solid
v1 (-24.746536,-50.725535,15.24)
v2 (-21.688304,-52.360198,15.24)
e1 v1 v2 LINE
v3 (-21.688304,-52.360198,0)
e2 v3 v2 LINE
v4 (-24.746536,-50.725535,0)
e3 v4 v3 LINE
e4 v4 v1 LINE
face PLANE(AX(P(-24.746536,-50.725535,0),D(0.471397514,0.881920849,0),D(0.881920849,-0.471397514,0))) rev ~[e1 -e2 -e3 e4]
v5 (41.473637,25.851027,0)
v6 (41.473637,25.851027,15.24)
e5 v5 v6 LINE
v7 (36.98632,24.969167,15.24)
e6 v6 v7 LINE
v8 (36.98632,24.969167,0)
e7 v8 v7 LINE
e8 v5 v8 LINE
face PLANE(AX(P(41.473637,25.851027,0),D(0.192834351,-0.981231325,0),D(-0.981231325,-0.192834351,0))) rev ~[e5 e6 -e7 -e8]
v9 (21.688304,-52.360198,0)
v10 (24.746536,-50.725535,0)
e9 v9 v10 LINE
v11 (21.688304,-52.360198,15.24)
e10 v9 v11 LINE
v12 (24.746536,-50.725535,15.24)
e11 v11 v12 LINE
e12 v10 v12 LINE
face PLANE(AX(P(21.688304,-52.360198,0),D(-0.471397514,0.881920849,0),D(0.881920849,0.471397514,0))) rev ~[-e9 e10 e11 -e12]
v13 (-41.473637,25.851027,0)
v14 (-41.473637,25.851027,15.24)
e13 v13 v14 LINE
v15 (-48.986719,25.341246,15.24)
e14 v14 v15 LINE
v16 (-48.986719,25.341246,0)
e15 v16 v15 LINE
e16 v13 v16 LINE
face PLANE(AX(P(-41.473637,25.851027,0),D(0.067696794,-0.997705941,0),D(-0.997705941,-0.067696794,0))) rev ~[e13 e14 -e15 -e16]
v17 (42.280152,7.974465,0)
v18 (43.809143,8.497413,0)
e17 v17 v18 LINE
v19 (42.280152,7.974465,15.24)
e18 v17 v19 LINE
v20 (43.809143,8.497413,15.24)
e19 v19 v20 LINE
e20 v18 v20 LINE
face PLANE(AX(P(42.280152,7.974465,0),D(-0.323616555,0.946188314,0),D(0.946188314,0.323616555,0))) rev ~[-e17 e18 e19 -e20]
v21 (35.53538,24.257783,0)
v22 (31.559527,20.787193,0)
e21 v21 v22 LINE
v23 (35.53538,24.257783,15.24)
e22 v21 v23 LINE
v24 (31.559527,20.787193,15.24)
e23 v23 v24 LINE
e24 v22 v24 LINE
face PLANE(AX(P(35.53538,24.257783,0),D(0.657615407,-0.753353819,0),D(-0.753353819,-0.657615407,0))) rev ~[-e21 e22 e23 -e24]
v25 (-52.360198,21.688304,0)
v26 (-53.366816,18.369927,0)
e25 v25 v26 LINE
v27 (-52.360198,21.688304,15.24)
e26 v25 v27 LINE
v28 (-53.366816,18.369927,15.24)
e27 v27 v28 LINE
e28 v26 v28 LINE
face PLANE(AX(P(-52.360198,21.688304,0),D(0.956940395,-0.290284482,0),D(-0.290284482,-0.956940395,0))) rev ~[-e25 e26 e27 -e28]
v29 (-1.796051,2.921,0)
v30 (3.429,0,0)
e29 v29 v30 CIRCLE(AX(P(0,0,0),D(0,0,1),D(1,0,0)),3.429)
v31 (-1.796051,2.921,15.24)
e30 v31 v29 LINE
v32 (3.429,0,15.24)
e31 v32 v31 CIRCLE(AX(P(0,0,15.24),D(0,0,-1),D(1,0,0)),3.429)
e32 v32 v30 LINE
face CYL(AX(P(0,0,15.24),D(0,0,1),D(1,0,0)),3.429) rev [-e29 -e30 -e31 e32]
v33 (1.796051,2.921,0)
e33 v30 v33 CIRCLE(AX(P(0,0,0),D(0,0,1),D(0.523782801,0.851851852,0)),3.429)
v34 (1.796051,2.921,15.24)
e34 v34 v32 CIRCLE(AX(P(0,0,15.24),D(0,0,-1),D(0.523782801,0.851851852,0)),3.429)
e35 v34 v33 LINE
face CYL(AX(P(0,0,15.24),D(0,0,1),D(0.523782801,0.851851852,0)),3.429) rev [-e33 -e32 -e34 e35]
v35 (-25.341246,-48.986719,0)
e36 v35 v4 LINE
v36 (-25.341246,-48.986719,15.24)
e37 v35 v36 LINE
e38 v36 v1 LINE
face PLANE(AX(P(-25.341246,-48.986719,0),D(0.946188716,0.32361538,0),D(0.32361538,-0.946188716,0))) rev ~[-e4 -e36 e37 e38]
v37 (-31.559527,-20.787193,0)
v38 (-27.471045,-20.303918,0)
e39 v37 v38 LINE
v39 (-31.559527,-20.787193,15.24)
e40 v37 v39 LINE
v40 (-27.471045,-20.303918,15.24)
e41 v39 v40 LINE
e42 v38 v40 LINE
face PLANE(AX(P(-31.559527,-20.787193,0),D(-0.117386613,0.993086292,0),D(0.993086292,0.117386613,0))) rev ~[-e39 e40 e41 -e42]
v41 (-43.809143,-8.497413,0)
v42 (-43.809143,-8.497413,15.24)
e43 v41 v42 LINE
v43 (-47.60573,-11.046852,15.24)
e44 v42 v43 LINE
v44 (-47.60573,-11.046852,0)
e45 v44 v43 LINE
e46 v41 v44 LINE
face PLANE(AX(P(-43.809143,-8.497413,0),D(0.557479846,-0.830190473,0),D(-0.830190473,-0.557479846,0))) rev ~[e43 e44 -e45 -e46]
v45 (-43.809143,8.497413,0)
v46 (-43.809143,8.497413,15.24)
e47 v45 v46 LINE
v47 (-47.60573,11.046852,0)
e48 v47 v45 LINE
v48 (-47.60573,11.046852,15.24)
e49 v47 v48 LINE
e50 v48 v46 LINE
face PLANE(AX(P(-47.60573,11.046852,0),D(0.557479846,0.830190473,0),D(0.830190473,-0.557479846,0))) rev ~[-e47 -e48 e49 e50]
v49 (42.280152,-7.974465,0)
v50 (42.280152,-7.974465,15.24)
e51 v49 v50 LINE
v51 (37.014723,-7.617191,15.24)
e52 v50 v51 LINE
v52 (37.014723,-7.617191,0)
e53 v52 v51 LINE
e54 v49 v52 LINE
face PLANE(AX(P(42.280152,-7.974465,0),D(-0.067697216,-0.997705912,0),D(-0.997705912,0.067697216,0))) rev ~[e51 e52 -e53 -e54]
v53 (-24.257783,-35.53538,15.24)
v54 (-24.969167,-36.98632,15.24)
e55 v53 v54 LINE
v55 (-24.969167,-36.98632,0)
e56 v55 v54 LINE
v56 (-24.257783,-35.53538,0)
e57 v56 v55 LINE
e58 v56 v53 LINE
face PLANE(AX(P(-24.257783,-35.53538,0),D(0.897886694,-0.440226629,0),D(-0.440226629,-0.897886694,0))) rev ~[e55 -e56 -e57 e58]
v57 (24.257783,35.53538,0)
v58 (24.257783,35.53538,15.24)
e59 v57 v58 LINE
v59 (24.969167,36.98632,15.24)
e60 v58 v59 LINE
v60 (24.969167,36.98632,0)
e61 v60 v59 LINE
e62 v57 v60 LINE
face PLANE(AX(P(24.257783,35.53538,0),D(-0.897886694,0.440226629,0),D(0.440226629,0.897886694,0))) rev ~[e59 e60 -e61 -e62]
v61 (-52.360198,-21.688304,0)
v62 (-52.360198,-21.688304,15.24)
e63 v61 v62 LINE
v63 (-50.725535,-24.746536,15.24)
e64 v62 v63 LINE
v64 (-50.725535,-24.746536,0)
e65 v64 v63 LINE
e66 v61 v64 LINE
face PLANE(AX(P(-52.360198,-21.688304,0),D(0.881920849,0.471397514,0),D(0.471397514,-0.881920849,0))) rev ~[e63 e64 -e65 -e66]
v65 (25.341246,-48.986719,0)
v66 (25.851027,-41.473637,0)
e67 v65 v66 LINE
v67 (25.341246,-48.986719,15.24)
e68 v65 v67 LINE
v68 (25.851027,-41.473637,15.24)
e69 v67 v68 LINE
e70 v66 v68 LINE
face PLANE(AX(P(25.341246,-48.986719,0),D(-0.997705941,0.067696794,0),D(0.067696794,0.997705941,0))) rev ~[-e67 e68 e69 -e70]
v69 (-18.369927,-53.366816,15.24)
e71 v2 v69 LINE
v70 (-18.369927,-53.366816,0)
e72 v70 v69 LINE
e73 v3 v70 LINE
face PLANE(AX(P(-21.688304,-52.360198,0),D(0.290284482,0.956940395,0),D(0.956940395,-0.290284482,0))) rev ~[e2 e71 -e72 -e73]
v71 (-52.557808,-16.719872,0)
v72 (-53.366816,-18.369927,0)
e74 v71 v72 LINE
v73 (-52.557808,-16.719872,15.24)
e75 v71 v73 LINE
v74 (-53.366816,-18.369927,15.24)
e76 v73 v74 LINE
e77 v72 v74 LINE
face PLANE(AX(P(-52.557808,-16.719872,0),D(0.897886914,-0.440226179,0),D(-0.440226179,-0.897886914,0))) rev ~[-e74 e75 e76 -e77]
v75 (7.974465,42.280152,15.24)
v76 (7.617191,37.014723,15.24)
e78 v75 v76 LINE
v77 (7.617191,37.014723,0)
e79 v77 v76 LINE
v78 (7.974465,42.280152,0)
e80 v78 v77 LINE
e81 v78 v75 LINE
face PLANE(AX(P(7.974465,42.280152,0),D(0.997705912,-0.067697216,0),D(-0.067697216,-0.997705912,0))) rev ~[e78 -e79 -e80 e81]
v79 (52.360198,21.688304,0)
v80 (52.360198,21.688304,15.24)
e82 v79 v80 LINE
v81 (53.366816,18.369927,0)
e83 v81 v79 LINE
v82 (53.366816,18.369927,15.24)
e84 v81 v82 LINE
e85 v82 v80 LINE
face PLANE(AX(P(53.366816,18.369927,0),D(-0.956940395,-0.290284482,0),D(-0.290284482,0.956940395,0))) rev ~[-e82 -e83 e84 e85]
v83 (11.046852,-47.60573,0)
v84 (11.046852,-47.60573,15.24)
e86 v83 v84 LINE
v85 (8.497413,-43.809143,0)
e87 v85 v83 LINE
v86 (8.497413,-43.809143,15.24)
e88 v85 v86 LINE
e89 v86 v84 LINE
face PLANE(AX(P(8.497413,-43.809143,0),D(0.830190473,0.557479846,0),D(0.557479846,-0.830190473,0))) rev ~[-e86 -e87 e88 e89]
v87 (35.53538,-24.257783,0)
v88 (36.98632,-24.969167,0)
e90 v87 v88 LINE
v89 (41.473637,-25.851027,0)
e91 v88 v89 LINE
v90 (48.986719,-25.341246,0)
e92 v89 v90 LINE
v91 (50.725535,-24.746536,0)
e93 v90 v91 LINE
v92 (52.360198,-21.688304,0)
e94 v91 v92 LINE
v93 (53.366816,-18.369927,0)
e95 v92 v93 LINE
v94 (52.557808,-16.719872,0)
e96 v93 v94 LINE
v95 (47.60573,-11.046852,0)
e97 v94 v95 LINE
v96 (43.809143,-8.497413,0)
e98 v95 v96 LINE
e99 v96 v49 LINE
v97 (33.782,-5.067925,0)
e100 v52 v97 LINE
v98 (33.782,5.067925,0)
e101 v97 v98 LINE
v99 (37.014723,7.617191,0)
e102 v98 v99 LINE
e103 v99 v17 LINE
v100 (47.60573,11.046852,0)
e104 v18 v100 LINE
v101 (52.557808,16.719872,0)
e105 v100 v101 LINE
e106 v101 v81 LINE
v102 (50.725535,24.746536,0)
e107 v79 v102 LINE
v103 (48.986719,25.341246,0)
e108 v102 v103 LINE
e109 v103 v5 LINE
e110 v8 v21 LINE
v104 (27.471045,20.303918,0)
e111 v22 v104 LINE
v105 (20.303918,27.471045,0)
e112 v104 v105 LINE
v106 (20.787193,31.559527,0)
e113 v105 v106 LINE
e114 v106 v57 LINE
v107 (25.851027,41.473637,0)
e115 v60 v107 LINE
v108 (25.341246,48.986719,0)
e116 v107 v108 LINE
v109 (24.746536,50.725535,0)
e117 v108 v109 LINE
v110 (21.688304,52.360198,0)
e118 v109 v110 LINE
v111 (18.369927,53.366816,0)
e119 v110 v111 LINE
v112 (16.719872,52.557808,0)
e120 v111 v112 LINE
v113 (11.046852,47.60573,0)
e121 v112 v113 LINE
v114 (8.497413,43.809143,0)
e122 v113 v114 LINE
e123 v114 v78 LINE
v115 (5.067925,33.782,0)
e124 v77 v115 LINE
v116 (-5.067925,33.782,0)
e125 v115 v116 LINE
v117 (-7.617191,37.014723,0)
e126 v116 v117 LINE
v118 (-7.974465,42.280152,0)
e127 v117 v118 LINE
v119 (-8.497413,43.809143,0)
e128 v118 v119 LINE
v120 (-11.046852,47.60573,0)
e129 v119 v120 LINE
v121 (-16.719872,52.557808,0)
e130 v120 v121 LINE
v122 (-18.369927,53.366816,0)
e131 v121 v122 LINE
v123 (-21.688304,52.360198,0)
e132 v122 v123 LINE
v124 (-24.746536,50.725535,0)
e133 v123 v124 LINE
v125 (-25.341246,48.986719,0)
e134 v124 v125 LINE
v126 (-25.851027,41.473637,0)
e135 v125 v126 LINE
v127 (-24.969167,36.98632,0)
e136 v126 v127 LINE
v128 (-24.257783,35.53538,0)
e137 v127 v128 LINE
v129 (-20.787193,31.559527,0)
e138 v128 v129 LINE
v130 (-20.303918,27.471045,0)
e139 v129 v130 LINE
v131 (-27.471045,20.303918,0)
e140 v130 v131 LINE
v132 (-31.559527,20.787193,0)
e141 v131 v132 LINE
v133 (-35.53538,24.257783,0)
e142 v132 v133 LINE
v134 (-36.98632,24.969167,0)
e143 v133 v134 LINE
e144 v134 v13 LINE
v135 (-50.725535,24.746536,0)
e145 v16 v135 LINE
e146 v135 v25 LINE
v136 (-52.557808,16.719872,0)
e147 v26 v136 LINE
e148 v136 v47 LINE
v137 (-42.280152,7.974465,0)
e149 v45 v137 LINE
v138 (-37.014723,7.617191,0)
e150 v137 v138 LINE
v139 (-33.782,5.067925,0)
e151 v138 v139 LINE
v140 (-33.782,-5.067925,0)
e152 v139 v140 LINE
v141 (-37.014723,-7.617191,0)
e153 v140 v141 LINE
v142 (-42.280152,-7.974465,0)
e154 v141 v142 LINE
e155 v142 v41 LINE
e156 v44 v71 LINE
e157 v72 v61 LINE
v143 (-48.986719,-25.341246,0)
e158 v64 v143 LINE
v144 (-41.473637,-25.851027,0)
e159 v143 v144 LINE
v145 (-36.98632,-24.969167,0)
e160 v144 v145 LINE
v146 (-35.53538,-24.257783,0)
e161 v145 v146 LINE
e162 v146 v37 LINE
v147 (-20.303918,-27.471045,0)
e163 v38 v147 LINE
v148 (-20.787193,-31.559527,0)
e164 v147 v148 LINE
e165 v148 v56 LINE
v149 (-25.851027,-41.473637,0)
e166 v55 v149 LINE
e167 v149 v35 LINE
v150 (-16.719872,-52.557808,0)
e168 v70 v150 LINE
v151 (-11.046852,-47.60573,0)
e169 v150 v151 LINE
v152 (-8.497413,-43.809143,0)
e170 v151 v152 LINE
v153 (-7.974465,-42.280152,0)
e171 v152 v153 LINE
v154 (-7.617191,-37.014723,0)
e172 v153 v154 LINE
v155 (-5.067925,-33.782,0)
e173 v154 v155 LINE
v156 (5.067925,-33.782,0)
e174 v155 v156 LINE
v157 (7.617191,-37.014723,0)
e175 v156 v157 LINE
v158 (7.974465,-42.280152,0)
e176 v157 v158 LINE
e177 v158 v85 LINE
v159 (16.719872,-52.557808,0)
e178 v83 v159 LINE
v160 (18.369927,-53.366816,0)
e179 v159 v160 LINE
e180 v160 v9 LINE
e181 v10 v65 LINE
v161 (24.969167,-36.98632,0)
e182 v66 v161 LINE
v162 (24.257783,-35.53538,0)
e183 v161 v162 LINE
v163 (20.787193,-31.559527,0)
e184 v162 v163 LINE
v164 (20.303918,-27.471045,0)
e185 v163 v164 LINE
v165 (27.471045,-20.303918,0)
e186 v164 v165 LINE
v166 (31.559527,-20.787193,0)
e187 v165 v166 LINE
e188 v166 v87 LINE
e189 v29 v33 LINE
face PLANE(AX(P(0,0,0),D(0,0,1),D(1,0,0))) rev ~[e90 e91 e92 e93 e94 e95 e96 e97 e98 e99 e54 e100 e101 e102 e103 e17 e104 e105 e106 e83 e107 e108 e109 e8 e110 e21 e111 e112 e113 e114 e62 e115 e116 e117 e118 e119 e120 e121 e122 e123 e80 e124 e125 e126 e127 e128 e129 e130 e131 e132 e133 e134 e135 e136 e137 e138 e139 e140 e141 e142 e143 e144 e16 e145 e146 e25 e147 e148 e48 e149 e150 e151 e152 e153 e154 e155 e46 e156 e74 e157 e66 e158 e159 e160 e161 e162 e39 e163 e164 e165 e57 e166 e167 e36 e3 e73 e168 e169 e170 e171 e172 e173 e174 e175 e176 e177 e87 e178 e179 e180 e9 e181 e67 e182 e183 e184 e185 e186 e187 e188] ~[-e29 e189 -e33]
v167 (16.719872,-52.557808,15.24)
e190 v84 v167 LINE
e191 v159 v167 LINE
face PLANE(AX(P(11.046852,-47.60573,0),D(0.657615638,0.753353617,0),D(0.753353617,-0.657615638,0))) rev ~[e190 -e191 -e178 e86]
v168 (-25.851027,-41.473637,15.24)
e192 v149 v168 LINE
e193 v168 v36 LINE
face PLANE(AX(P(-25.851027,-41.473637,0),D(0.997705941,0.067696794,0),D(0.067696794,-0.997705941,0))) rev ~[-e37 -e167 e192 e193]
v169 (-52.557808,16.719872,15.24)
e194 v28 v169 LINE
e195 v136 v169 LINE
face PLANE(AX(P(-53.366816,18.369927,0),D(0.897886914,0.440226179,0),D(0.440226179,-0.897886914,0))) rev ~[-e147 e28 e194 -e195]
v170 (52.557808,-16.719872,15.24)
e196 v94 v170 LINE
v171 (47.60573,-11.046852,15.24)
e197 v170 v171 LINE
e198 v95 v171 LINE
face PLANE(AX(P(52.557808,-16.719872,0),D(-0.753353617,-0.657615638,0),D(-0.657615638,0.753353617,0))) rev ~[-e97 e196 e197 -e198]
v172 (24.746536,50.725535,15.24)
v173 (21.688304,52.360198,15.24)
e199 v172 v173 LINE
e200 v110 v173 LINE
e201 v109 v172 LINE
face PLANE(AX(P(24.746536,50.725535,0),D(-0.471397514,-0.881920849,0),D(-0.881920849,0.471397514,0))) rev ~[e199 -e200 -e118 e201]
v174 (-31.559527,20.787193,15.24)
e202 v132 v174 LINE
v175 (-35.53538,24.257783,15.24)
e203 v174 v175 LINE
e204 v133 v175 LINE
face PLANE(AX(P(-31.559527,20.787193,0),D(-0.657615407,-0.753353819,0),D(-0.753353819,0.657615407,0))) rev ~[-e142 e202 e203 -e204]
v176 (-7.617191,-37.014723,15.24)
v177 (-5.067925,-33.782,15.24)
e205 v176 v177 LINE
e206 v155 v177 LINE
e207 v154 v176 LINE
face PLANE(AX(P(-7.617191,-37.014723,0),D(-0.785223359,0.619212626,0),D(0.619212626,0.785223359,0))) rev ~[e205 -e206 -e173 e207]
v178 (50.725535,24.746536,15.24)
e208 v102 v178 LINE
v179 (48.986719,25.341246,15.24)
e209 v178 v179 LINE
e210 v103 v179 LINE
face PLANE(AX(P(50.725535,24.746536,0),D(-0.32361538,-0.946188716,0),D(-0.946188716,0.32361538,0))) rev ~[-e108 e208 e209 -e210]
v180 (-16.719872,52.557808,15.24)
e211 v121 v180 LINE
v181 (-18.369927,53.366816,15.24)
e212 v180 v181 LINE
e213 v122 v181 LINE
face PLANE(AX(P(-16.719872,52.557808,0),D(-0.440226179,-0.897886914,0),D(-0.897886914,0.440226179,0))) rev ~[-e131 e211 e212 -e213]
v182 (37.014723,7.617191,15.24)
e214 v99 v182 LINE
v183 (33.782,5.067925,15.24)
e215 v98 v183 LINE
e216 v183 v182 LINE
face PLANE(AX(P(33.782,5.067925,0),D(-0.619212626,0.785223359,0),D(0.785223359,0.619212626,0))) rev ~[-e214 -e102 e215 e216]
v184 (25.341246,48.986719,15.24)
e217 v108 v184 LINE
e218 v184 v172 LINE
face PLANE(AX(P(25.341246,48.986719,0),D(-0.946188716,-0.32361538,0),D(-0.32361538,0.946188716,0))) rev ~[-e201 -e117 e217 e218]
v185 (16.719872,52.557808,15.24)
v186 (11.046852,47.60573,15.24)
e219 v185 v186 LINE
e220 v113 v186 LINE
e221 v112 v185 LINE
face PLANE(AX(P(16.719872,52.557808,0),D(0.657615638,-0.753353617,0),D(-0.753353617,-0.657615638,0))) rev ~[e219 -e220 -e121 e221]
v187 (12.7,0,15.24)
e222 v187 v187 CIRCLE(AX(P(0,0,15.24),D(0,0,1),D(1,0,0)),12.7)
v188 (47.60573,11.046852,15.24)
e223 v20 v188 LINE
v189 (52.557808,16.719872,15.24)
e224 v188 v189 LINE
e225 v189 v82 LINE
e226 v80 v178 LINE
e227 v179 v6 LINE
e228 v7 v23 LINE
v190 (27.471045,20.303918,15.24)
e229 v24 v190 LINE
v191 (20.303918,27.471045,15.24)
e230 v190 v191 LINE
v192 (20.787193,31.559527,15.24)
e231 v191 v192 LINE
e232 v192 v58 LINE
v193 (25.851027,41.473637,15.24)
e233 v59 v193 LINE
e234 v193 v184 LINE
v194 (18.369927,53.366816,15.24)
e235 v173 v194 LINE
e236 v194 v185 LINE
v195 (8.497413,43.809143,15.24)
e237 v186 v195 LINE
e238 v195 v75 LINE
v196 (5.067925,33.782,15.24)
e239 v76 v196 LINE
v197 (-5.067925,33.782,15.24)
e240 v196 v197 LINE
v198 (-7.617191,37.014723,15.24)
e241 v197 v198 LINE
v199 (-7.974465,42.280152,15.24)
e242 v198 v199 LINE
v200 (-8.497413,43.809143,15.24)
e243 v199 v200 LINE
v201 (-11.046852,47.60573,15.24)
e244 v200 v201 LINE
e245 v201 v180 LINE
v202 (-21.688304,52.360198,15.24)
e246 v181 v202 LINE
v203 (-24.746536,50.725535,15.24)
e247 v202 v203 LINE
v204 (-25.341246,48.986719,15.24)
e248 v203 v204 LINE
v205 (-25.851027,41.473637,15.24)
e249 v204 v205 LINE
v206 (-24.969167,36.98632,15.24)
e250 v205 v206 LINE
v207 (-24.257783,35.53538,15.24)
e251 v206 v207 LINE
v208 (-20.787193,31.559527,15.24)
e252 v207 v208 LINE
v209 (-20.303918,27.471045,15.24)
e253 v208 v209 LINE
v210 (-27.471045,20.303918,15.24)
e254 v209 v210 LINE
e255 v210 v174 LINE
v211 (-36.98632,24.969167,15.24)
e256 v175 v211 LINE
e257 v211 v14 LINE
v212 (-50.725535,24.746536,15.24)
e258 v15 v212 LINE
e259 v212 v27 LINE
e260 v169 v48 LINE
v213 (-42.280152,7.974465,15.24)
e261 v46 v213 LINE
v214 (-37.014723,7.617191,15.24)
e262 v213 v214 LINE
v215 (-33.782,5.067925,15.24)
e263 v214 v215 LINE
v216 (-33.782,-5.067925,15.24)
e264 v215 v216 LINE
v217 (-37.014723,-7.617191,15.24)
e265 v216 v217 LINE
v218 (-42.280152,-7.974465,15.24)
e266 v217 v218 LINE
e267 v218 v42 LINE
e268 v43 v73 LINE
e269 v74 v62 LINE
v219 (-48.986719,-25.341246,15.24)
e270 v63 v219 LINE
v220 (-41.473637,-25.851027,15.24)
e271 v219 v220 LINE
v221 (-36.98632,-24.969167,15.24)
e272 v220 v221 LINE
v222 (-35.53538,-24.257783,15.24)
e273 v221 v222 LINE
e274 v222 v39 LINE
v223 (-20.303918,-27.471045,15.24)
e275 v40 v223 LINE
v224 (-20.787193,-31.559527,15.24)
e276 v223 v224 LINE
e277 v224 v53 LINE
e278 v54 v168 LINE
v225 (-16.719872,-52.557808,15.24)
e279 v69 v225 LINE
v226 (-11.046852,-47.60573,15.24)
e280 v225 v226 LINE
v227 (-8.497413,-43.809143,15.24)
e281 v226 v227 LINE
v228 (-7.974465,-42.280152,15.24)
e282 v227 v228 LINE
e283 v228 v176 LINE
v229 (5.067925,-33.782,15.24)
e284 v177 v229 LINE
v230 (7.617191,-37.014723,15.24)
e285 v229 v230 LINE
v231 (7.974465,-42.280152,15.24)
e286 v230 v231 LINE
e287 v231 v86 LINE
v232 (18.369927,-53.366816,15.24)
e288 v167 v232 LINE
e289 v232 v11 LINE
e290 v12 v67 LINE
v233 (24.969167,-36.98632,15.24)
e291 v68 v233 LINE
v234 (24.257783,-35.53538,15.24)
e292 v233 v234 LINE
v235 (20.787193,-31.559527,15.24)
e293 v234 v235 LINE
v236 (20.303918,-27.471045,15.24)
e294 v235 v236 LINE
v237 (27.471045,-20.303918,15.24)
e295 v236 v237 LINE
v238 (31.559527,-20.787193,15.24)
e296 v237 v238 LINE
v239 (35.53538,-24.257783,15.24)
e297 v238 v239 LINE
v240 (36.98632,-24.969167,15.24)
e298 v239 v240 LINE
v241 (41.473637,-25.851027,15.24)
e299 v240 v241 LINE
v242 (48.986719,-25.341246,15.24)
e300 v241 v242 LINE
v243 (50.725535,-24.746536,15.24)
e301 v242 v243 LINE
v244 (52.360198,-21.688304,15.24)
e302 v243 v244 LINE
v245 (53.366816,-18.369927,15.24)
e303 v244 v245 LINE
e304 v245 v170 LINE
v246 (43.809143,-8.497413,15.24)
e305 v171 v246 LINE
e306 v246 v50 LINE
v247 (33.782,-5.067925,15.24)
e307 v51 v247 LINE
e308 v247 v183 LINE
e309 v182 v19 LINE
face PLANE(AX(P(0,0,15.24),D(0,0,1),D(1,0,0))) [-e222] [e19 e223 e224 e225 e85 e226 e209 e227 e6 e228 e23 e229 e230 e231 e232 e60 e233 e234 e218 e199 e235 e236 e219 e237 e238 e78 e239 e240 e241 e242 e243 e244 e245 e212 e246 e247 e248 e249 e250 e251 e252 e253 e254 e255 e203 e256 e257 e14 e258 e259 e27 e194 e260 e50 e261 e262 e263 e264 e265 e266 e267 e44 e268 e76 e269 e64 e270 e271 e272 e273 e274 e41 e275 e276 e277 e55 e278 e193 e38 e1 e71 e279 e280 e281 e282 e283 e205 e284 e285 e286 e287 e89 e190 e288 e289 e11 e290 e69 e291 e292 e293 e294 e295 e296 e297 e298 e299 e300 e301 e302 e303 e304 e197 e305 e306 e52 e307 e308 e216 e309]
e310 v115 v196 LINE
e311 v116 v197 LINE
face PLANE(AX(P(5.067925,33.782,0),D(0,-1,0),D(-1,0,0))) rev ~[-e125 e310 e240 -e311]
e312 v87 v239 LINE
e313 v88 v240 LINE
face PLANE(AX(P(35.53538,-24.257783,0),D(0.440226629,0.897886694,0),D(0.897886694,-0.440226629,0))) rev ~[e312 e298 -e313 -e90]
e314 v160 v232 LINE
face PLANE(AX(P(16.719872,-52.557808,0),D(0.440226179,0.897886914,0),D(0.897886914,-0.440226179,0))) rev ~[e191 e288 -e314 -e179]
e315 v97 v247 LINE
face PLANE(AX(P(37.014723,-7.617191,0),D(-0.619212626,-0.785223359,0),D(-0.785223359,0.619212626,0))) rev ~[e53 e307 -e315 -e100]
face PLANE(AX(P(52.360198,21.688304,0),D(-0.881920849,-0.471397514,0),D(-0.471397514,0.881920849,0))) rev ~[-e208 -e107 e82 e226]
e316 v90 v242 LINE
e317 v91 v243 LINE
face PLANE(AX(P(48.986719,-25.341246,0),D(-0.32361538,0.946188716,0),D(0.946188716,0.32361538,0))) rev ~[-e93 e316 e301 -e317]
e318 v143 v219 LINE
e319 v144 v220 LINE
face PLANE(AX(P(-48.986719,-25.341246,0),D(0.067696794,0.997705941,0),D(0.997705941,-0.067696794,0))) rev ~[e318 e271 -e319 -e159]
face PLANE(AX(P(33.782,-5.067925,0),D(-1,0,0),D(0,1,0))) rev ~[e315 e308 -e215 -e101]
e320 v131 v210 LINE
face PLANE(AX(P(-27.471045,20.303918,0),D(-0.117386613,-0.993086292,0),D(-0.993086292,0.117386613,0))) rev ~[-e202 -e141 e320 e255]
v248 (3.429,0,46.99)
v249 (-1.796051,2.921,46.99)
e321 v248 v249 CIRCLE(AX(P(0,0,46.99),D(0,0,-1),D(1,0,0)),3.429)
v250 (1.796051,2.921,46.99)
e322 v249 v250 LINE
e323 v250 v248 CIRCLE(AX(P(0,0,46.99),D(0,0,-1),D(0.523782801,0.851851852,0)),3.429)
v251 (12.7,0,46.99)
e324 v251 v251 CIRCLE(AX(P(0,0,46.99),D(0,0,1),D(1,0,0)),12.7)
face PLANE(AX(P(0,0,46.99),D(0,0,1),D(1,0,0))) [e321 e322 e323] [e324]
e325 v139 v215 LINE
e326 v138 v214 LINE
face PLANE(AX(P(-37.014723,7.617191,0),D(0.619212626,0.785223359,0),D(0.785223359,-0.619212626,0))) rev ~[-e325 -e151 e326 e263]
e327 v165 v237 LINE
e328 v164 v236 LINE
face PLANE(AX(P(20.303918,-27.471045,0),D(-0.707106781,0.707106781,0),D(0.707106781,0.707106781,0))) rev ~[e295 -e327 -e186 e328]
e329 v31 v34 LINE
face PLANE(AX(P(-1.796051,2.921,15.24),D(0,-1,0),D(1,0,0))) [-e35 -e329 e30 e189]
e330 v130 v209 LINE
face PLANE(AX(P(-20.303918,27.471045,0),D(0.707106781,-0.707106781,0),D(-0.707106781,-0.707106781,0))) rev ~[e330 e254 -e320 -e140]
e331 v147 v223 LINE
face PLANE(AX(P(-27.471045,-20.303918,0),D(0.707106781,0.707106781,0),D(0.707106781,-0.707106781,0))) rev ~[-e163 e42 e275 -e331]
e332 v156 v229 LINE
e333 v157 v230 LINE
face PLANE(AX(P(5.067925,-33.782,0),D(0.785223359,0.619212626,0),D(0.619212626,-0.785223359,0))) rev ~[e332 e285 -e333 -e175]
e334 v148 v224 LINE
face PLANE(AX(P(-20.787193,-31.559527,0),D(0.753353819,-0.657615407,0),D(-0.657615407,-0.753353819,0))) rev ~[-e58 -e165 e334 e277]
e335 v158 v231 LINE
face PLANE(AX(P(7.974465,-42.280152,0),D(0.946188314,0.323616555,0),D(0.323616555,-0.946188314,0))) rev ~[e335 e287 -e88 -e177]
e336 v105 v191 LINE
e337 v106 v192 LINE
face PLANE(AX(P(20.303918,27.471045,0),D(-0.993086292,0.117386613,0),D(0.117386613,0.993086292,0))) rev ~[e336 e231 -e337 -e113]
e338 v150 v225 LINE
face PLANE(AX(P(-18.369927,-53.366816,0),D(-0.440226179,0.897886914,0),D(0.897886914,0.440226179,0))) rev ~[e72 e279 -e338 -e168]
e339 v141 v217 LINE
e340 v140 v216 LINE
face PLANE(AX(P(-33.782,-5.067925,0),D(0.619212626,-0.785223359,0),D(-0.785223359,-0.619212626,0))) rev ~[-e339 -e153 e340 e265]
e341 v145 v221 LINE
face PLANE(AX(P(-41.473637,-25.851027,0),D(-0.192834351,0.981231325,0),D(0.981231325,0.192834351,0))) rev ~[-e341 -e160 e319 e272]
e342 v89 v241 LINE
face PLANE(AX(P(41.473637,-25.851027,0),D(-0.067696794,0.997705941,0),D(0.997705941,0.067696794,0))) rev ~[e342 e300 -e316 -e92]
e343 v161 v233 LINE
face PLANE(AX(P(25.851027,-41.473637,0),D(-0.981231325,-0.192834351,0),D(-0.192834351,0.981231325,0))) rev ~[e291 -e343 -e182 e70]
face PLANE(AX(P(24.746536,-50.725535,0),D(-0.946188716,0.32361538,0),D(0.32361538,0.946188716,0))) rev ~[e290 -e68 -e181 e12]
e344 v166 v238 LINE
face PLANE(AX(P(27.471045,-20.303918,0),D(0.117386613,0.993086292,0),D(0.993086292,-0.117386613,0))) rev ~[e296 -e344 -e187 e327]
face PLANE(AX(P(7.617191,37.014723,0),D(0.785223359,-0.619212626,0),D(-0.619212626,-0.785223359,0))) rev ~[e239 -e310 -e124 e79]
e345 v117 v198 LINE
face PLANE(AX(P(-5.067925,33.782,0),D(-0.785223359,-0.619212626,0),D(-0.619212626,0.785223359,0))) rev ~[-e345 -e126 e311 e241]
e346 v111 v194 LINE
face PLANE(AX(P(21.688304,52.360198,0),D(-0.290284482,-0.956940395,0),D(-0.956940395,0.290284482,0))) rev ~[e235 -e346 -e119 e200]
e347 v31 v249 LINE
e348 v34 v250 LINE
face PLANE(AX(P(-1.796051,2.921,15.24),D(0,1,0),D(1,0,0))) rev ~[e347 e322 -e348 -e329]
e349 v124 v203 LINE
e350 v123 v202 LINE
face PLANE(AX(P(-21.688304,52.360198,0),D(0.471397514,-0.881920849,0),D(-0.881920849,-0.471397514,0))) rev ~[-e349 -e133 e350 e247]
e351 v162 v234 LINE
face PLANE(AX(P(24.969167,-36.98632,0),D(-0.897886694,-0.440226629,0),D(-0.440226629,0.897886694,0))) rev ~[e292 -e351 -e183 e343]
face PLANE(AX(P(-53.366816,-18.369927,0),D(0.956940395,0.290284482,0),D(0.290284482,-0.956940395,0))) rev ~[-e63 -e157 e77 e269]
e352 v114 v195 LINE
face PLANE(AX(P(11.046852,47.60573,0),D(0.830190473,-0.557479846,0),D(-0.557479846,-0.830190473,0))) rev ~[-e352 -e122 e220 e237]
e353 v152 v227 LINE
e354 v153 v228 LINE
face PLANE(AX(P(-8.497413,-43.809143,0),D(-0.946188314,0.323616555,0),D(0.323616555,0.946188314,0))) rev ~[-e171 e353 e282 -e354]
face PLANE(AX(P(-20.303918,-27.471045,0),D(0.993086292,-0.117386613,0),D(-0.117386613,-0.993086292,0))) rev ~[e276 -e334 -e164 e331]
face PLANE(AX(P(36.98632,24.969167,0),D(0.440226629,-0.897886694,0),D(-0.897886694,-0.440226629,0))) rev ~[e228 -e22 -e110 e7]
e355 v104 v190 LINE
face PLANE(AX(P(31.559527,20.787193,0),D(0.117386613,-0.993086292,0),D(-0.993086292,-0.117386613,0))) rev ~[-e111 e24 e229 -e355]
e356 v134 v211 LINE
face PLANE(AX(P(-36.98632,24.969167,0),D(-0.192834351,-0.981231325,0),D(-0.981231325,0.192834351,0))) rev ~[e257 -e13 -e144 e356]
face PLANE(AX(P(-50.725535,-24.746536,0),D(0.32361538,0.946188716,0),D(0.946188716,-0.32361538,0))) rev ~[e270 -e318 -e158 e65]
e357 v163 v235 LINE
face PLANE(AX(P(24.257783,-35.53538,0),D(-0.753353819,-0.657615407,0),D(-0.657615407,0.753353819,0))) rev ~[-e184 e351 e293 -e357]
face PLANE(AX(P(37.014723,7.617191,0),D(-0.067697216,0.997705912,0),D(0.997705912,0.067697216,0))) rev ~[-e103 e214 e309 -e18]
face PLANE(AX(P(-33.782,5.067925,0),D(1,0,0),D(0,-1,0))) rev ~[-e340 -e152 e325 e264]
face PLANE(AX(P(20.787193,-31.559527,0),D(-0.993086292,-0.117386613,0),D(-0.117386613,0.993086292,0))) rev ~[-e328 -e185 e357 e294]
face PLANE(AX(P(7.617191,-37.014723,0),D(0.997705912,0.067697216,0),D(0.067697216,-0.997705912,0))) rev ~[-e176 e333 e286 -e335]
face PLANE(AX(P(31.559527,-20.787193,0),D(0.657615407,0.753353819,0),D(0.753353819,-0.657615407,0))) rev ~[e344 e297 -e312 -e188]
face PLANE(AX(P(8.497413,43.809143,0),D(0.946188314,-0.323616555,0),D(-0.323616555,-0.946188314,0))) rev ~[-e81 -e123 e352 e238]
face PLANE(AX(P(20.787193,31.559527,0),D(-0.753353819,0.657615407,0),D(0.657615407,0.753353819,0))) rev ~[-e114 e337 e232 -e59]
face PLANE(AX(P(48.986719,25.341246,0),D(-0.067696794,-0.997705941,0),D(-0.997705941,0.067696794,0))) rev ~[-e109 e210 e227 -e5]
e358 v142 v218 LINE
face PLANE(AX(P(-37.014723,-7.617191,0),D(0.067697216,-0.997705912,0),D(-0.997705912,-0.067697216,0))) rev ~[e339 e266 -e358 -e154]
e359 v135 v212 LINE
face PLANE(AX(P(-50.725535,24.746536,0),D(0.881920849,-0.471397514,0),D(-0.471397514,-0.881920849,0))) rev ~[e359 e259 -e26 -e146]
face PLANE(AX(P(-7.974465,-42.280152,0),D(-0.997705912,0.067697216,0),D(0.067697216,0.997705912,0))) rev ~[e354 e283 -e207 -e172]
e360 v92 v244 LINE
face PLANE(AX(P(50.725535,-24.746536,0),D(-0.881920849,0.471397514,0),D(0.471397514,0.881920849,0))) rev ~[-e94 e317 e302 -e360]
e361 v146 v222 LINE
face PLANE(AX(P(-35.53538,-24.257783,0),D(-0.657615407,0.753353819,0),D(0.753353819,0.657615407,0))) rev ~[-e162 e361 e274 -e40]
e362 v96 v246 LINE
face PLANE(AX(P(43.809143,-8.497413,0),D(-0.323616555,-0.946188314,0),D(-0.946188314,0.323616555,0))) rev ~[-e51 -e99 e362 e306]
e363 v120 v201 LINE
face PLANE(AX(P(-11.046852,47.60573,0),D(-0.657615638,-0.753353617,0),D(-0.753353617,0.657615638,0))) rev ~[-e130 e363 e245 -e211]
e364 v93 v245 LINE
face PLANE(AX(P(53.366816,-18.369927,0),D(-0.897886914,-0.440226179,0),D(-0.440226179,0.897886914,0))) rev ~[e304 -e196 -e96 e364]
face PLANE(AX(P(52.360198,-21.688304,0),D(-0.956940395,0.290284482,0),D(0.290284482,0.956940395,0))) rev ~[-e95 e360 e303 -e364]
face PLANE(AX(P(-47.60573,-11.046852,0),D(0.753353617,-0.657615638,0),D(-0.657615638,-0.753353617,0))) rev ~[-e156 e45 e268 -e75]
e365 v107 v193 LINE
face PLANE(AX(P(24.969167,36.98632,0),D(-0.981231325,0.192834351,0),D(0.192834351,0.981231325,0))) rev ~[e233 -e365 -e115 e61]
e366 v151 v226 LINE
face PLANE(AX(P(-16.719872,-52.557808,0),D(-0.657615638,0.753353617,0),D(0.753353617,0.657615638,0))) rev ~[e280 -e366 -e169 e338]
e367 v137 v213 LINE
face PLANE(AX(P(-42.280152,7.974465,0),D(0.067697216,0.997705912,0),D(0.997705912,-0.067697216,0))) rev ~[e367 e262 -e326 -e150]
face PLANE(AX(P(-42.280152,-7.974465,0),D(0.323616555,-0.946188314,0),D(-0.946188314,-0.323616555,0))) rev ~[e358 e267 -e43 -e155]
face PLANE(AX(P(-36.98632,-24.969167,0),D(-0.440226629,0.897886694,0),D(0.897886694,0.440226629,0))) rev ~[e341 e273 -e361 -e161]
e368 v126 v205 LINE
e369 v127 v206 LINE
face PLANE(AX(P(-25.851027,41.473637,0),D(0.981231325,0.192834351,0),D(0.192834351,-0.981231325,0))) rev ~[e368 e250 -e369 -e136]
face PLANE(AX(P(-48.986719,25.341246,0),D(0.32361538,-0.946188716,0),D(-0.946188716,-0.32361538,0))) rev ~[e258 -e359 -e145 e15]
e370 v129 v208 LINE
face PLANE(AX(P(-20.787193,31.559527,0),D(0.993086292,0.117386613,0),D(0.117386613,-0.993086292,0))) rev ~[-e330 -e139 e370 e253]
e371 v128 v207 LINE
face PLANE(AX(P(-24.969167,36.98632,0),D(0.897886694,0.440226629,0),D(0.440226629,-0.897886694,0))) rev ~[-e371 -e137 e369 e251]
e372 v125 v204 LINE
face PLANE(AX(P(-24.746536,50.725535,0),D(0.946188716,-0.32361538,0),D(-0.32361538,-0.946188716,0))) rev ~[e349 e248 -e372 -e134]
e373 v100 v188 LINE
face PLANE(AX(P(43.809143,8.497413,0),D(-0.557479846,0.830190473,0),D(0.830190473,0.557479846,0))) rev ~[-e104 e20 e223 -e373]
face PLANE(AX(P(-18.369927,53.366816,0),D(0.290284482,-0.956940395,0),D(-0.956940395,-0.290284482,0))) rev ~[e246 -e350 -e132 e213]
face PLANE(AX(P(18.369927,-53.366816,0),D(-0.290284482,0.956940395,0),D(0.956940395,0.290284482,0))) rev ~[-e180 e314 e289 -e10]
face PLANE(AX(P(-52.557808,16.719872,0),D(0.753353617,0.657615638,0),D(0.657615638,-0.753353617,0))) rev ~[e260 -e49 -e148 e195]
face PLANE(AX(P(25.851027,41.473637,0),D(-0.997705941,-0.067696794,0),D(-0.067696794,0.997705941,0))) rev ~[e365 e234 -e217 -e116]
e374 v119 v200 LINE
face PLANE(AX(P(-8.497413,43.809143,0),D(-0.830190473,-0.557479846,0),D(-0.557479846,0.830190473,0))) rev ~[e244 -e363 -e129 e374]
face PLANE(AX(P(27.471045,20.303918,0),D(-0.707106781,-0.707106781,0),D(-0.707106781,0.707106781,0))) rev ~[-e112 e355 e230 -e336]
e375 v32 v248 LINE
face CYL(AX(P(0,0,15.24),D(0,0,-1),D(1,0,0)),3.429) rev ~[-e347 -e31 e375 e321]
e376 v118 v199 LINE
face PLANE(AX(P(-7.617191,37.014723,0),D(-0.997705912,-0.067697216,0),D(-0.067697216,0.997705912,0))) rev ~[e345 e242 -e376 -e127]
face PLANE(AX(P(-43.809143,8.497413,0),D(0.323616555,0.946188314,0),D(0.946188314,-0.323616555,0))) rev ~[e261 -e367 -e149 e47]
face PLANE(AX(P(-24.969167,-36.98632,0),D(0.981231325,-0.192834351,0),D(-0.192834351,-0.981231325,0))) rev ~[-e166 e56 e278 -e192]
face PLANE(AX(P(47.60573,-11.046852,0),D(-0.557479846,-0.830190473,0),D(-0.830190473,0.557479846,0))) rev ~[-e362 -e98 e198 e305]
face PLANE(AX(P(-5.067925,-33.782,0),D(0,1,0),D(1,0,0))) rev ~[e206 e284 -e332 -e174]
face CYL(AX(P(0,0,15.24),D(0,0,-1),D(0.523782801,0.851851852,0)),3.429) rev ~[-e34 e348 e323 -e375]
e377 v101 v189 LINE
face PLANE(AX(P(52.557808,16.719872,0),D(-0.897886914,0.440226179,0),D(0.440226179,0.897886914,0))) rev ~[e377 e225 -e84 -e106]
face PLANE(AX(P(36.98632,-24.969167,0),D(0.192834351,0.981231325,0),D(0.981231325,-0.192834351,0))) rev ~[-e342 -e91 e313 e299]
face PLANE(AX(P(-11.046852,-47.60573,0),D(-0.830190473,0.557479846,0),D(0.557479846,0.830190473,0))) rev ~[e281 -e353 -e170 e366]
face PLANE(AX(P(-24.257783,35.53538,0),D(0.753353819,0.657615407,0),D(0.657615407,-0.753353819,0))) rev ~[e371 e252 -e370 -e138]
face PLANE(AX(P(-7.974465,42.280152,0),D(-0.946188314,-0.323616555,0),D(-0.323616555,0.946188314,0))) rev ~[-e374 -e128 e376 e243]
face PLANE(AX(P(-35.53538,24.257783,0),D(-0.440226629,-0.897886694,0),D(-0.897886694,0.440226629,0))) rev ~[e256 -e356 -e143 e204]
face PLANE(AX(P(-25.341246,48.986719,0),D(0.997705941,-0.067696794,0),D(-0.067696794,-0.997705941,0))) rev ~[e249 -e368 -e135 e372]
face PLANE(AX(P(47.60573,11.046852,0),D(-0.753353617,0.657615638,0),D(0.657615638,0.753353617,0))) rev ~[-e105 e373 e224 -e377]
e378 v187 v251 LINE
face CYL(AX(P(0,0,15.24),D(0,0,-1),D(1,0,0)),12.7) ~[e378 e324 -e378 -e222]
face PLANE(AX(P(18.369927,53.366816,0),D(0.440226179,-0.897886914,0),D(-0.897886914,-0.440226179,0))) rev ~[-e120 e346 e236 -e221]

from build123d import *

# Parameters (mm, degrees)
F1_DEPTH = 15.24
F2_R     = 12.7
F3_DEPTH = 31.75
F4_DEPTH = 25.4


with BuildPart() as f1:
    # F0 (on Top) → F1 (new body)
    with BuildSketch(Plane.XY):
        Polygon((-48.986719159, 25.3412460777), (-50.7255351294, 24.7465363945), (-52.3601977854, 21.688304154), (-53.366815822, 18.3699267661), (-52.5578082129, 16.719871907), (-47.6057296253, 11.0468524364), (-43.80914346, 8.4974130761), (-42.2801519731, 7.9744654227), (-37.0147232049, 7.6171909331), (-33.782, 5.0679251692), (-33.782, -5.0679251692), (-37.0147232049, -7.6171909331), (-42.2801519731, -7.9744654227), (-43.80914346, -8.4974130761), (-47.6057296253, -11.0468524364), (-52.5578082129, -16.719871907), (-53.366815822, -18.3699267661), (-52.3601977854, -21.688304154), (-50.7255351294, -24.7465363945), (-48.986719159, -25.3412460777), (-41.4736370284, -25.8510271212), (-36.9863201834, -24.9691669416), (-35.5353802528, -24.2577827562), (-31.559527, -20.7871925925), (-27.4710453735, -20.303918365), (-20.303918365, -27.4710453735), (-20.7871925925, -31.559527), (-24.2577827562, -35.5353802528), (-24.9691669416, -36.9863201834), (-25.8510271212, -41.4736370284), (-25.3412460777, -48.986719159), (-24.7465363945, -50.7255351294), (-21.688304154, -52.3601977854), (-18.3699267661, -53.366815822), (-16.719871907, -52.5578082129), (-11.0468524364, -47.6057296253), (-8.4974130761, -43.80914346), (-7.9744654227, -42.2801519731), (-7.6171909331, -37.0147232049), (-5.0679251692, -33.782), (5.0679251692, -33.782), (7.6171909331, -37.0147232049), (7.9744654227, -42.2801519731), (8.4974130761, -43.80914346), (11.0468524364, -47.6057296253), (16.719871907, -52.5578082129), (18.3699267661, -53.366815822), (21.688304154, -52.3601977854), (24.7465363945, -50.7255351294), (25.3412460777, -48.986719159), (25.8510271212, -41.4736370284), (24.9691669416, -36.9863201834), (24.2577827562, -35.5353802528), (20.7871925925, -31.559527), (20.303918365, -27.4710453735), (27.4710453735, -20.303918365), (31.559527, -20.7871925925), (35.5353802528, -24.2577827562), (36.9863201834, -24.9691669416), (41.4736370284, -25.8510271212), (48.986719159, -25.3412460777), (50.7255351294, -24.7465363945), (52.3601977854, -21.688304154), (53.366815822, -18.3699267661), (52.5578082129, -16.719871907), (47.6057296253, -11.0468524364), (43.80914346, -8.4974130761), (42.2801519731, -7.9744654227), (37.0147232049, -7.6171909331), (33.782, -5.0679251692), (33.782, 5.0679251692), (37.0147232049, 7.6171909331), (42.2801519731, 7.9744654227), (43.80914346, 8.4974130761), (47.6057296253, 11.0468524364), (52.5578082129, 16.719871907), (53.366815822, 18.3699267661), (52.3601977854, 21.688304154), (50.7255351294, 24.7465363945), (48.986719159, 25.3412460777), (41.4736370284, 25.8510271212), (36.9863201834, 24.9691669416), (35.5353802528, 24.2577827562), (31.559527, 20.7871925925), (27.4710453735, 20.303918365), (20.303918365, 27.4710453735), (20.7871925925, 31.559527), (24.2577827562, 35.5353802528), (24.9691669416, 36.9863201834), (25.8510271212, 41.4736370284), (25.3412460777, 48.986719159), (24.7465363945, 50.7255351294), (21.688304154, 52.3601977854), (18.3699267661, 53.366815822), (16.719871907, 52.5578082129), (11.0468524364, 47.6057296253), (8.4974130761, 43.80914346), (7.9744654227, 42.2801519731), (7.6171909331, 37.0147232049), (5.0679251692, 33.782), (-5.0679251692, 33.782), (-7.6171909331, 37.0147232049), (-7.9744654227, 42.2801519731), (-8.4974130761, 43.80914346), (-11.0468524364, 47.6057296253), (-16.719871907, 52.5578082129), (-18.3699267661, 53.366815822), (-21.688304154, 52.3601977854), (-24.7465363945, 50.7255351294), (-25.3412460777, 48.986719159), (-25.8510271212, 41.4736370284), (-24.9691669416, 36.9863201834), (-24.2577827562, 35.5353802528), (-20.7871925925, 31.559527), (-20.303918365, 27.4710453735), (-27.4710453735, 20.303918365), (-31.559527, 20.7871925925), (-35.5353802528, 24.2577827562), (-36.9863201834, 24.9691669416), (-41.4736370284, 25.8510271212), align=None)
        Polygon((-6.457554456, 6.1279886028), (-5.0423575535, 7.3366771559), (-3.4067913067, 8.2247200336), (-1.622328418, 8.7533028893), (0.2330374214, 8.8993240645), (2.0782189459, 8.6564005578), (3.8325695574, 8.0351529003), (5.4194220185, 7.0627288788), (6.7694179402, 5.7816284228), (7.8235568446, 4.247847459), (8.5357689507, 2.5284119549), (8.8749315621, 0.6984712932), (8.8262133252, -1.1619911548), (8.3917463583, -2.9716744665), (7.5905194232, -4.6514766054), (6.457554456, -6.1279886028), (5.0423575535, -7.3366771559), (3.4067913067, -8.2247200336), (1.622328418, -8.7533028893), (-0.2330374214, -8.8993240645), (-2.0782189459, -8.6564005578), (-3.8325695574, -8.0351529003), (-5.4194220185, -7.0627288788), (-6.7694179402, -5.7816284228), (-7.8235568446, -4.247847459), (-8.5357689507, -2.5284119549), (-8.8749315621, -0.6984712932), (-8.8262133252, 1.1619911548), (-8.3917463583, 2.9716744665), (-7.5905194232, 4.6514766054), align=None, mode=Mode.SUBTRACT)
        Polygon((-3.4067913067, 8.2247200336), (-5.0423575535, 7.3366771559), (-6.457554456, 6.1279886028), (-7.5905194232, 4.6514766054), (-8.3917463583, 2.9716744665), (-8.8262133252, 1.1619911548), (-8.8749315621, -0.6984712932), (-8.5357689507, -2.5284119549), (-7.8235568446, -4.247847459), (-6.7694179402, -5.7816284228), (-5.4194220185, -7.0627288788), (-3.8325695574, -8.0351529003), (-2.0782189459, -8.6564005578), (-0.2330374214, -8.8993240645), (1.622328418, -8.7533028893), (3.4067913067, -8.2247200336), (5.0423575535, -7.3366771559), (6.457554456, -6.1279886028), (7.5905194232, -4.6514766054), (8.3917463583, -2.9716744665), (8.8262133252, -1.1619911548), (8.8749315621, 0.6984712932), (8.5357689507, 2.5284119549), (7.8235568446, 4.247847459), (6.7694179402, 5.7816284228), (5.4194220185, 7.0627288788), (3.8325695574, 8.0351529003), (2.0782189459, 8.6564005578), (0.2330374214, 8.8993240645), (-1.622328418, 8.7533028893), align=None)
    extrude(amount=F1_DEPTH)

    # F2 (on face) → F3 (join)
    with BuildSketch(Plane.XY.offset(15.24)):
        Circle(F2_R)
        with BuildLine():
            ThreePointArc((1.7960512242, 2.921), (2.9930503377, 1.6732276223), (3.429, 0))
            ThreePointArc((3.429, 0), (-1.6732276223, -2.9930503377), (-1.7960512242, 2.921))
            ThreePointArc((-1.7960512242, 2.921), (0, 3.429), (1.7960512242, 2.921))
        make_face(mode=Mode.SUBTRACT)
        with BuildLine():
            Line((-1.7960512242, 2.921), (1.7960512242, 2.921))
            ThreePointArc((1.7960512242, 2.921), (0, 3.429), (-1.7960512242, 2.921))
        make_face()
    extrude(amount=F3_DEPTH)

    # F4 (cut): a face of the model
    f4_faces = [f1.faces().sort_by_distance(p)[0] for p in [
        (0, -0.108182678, 15.24),
    ]]
    extrude(f4_faces, amount=-F4_DEPTH, mode=Mode.SUBTRACT)


solid = f1.part
